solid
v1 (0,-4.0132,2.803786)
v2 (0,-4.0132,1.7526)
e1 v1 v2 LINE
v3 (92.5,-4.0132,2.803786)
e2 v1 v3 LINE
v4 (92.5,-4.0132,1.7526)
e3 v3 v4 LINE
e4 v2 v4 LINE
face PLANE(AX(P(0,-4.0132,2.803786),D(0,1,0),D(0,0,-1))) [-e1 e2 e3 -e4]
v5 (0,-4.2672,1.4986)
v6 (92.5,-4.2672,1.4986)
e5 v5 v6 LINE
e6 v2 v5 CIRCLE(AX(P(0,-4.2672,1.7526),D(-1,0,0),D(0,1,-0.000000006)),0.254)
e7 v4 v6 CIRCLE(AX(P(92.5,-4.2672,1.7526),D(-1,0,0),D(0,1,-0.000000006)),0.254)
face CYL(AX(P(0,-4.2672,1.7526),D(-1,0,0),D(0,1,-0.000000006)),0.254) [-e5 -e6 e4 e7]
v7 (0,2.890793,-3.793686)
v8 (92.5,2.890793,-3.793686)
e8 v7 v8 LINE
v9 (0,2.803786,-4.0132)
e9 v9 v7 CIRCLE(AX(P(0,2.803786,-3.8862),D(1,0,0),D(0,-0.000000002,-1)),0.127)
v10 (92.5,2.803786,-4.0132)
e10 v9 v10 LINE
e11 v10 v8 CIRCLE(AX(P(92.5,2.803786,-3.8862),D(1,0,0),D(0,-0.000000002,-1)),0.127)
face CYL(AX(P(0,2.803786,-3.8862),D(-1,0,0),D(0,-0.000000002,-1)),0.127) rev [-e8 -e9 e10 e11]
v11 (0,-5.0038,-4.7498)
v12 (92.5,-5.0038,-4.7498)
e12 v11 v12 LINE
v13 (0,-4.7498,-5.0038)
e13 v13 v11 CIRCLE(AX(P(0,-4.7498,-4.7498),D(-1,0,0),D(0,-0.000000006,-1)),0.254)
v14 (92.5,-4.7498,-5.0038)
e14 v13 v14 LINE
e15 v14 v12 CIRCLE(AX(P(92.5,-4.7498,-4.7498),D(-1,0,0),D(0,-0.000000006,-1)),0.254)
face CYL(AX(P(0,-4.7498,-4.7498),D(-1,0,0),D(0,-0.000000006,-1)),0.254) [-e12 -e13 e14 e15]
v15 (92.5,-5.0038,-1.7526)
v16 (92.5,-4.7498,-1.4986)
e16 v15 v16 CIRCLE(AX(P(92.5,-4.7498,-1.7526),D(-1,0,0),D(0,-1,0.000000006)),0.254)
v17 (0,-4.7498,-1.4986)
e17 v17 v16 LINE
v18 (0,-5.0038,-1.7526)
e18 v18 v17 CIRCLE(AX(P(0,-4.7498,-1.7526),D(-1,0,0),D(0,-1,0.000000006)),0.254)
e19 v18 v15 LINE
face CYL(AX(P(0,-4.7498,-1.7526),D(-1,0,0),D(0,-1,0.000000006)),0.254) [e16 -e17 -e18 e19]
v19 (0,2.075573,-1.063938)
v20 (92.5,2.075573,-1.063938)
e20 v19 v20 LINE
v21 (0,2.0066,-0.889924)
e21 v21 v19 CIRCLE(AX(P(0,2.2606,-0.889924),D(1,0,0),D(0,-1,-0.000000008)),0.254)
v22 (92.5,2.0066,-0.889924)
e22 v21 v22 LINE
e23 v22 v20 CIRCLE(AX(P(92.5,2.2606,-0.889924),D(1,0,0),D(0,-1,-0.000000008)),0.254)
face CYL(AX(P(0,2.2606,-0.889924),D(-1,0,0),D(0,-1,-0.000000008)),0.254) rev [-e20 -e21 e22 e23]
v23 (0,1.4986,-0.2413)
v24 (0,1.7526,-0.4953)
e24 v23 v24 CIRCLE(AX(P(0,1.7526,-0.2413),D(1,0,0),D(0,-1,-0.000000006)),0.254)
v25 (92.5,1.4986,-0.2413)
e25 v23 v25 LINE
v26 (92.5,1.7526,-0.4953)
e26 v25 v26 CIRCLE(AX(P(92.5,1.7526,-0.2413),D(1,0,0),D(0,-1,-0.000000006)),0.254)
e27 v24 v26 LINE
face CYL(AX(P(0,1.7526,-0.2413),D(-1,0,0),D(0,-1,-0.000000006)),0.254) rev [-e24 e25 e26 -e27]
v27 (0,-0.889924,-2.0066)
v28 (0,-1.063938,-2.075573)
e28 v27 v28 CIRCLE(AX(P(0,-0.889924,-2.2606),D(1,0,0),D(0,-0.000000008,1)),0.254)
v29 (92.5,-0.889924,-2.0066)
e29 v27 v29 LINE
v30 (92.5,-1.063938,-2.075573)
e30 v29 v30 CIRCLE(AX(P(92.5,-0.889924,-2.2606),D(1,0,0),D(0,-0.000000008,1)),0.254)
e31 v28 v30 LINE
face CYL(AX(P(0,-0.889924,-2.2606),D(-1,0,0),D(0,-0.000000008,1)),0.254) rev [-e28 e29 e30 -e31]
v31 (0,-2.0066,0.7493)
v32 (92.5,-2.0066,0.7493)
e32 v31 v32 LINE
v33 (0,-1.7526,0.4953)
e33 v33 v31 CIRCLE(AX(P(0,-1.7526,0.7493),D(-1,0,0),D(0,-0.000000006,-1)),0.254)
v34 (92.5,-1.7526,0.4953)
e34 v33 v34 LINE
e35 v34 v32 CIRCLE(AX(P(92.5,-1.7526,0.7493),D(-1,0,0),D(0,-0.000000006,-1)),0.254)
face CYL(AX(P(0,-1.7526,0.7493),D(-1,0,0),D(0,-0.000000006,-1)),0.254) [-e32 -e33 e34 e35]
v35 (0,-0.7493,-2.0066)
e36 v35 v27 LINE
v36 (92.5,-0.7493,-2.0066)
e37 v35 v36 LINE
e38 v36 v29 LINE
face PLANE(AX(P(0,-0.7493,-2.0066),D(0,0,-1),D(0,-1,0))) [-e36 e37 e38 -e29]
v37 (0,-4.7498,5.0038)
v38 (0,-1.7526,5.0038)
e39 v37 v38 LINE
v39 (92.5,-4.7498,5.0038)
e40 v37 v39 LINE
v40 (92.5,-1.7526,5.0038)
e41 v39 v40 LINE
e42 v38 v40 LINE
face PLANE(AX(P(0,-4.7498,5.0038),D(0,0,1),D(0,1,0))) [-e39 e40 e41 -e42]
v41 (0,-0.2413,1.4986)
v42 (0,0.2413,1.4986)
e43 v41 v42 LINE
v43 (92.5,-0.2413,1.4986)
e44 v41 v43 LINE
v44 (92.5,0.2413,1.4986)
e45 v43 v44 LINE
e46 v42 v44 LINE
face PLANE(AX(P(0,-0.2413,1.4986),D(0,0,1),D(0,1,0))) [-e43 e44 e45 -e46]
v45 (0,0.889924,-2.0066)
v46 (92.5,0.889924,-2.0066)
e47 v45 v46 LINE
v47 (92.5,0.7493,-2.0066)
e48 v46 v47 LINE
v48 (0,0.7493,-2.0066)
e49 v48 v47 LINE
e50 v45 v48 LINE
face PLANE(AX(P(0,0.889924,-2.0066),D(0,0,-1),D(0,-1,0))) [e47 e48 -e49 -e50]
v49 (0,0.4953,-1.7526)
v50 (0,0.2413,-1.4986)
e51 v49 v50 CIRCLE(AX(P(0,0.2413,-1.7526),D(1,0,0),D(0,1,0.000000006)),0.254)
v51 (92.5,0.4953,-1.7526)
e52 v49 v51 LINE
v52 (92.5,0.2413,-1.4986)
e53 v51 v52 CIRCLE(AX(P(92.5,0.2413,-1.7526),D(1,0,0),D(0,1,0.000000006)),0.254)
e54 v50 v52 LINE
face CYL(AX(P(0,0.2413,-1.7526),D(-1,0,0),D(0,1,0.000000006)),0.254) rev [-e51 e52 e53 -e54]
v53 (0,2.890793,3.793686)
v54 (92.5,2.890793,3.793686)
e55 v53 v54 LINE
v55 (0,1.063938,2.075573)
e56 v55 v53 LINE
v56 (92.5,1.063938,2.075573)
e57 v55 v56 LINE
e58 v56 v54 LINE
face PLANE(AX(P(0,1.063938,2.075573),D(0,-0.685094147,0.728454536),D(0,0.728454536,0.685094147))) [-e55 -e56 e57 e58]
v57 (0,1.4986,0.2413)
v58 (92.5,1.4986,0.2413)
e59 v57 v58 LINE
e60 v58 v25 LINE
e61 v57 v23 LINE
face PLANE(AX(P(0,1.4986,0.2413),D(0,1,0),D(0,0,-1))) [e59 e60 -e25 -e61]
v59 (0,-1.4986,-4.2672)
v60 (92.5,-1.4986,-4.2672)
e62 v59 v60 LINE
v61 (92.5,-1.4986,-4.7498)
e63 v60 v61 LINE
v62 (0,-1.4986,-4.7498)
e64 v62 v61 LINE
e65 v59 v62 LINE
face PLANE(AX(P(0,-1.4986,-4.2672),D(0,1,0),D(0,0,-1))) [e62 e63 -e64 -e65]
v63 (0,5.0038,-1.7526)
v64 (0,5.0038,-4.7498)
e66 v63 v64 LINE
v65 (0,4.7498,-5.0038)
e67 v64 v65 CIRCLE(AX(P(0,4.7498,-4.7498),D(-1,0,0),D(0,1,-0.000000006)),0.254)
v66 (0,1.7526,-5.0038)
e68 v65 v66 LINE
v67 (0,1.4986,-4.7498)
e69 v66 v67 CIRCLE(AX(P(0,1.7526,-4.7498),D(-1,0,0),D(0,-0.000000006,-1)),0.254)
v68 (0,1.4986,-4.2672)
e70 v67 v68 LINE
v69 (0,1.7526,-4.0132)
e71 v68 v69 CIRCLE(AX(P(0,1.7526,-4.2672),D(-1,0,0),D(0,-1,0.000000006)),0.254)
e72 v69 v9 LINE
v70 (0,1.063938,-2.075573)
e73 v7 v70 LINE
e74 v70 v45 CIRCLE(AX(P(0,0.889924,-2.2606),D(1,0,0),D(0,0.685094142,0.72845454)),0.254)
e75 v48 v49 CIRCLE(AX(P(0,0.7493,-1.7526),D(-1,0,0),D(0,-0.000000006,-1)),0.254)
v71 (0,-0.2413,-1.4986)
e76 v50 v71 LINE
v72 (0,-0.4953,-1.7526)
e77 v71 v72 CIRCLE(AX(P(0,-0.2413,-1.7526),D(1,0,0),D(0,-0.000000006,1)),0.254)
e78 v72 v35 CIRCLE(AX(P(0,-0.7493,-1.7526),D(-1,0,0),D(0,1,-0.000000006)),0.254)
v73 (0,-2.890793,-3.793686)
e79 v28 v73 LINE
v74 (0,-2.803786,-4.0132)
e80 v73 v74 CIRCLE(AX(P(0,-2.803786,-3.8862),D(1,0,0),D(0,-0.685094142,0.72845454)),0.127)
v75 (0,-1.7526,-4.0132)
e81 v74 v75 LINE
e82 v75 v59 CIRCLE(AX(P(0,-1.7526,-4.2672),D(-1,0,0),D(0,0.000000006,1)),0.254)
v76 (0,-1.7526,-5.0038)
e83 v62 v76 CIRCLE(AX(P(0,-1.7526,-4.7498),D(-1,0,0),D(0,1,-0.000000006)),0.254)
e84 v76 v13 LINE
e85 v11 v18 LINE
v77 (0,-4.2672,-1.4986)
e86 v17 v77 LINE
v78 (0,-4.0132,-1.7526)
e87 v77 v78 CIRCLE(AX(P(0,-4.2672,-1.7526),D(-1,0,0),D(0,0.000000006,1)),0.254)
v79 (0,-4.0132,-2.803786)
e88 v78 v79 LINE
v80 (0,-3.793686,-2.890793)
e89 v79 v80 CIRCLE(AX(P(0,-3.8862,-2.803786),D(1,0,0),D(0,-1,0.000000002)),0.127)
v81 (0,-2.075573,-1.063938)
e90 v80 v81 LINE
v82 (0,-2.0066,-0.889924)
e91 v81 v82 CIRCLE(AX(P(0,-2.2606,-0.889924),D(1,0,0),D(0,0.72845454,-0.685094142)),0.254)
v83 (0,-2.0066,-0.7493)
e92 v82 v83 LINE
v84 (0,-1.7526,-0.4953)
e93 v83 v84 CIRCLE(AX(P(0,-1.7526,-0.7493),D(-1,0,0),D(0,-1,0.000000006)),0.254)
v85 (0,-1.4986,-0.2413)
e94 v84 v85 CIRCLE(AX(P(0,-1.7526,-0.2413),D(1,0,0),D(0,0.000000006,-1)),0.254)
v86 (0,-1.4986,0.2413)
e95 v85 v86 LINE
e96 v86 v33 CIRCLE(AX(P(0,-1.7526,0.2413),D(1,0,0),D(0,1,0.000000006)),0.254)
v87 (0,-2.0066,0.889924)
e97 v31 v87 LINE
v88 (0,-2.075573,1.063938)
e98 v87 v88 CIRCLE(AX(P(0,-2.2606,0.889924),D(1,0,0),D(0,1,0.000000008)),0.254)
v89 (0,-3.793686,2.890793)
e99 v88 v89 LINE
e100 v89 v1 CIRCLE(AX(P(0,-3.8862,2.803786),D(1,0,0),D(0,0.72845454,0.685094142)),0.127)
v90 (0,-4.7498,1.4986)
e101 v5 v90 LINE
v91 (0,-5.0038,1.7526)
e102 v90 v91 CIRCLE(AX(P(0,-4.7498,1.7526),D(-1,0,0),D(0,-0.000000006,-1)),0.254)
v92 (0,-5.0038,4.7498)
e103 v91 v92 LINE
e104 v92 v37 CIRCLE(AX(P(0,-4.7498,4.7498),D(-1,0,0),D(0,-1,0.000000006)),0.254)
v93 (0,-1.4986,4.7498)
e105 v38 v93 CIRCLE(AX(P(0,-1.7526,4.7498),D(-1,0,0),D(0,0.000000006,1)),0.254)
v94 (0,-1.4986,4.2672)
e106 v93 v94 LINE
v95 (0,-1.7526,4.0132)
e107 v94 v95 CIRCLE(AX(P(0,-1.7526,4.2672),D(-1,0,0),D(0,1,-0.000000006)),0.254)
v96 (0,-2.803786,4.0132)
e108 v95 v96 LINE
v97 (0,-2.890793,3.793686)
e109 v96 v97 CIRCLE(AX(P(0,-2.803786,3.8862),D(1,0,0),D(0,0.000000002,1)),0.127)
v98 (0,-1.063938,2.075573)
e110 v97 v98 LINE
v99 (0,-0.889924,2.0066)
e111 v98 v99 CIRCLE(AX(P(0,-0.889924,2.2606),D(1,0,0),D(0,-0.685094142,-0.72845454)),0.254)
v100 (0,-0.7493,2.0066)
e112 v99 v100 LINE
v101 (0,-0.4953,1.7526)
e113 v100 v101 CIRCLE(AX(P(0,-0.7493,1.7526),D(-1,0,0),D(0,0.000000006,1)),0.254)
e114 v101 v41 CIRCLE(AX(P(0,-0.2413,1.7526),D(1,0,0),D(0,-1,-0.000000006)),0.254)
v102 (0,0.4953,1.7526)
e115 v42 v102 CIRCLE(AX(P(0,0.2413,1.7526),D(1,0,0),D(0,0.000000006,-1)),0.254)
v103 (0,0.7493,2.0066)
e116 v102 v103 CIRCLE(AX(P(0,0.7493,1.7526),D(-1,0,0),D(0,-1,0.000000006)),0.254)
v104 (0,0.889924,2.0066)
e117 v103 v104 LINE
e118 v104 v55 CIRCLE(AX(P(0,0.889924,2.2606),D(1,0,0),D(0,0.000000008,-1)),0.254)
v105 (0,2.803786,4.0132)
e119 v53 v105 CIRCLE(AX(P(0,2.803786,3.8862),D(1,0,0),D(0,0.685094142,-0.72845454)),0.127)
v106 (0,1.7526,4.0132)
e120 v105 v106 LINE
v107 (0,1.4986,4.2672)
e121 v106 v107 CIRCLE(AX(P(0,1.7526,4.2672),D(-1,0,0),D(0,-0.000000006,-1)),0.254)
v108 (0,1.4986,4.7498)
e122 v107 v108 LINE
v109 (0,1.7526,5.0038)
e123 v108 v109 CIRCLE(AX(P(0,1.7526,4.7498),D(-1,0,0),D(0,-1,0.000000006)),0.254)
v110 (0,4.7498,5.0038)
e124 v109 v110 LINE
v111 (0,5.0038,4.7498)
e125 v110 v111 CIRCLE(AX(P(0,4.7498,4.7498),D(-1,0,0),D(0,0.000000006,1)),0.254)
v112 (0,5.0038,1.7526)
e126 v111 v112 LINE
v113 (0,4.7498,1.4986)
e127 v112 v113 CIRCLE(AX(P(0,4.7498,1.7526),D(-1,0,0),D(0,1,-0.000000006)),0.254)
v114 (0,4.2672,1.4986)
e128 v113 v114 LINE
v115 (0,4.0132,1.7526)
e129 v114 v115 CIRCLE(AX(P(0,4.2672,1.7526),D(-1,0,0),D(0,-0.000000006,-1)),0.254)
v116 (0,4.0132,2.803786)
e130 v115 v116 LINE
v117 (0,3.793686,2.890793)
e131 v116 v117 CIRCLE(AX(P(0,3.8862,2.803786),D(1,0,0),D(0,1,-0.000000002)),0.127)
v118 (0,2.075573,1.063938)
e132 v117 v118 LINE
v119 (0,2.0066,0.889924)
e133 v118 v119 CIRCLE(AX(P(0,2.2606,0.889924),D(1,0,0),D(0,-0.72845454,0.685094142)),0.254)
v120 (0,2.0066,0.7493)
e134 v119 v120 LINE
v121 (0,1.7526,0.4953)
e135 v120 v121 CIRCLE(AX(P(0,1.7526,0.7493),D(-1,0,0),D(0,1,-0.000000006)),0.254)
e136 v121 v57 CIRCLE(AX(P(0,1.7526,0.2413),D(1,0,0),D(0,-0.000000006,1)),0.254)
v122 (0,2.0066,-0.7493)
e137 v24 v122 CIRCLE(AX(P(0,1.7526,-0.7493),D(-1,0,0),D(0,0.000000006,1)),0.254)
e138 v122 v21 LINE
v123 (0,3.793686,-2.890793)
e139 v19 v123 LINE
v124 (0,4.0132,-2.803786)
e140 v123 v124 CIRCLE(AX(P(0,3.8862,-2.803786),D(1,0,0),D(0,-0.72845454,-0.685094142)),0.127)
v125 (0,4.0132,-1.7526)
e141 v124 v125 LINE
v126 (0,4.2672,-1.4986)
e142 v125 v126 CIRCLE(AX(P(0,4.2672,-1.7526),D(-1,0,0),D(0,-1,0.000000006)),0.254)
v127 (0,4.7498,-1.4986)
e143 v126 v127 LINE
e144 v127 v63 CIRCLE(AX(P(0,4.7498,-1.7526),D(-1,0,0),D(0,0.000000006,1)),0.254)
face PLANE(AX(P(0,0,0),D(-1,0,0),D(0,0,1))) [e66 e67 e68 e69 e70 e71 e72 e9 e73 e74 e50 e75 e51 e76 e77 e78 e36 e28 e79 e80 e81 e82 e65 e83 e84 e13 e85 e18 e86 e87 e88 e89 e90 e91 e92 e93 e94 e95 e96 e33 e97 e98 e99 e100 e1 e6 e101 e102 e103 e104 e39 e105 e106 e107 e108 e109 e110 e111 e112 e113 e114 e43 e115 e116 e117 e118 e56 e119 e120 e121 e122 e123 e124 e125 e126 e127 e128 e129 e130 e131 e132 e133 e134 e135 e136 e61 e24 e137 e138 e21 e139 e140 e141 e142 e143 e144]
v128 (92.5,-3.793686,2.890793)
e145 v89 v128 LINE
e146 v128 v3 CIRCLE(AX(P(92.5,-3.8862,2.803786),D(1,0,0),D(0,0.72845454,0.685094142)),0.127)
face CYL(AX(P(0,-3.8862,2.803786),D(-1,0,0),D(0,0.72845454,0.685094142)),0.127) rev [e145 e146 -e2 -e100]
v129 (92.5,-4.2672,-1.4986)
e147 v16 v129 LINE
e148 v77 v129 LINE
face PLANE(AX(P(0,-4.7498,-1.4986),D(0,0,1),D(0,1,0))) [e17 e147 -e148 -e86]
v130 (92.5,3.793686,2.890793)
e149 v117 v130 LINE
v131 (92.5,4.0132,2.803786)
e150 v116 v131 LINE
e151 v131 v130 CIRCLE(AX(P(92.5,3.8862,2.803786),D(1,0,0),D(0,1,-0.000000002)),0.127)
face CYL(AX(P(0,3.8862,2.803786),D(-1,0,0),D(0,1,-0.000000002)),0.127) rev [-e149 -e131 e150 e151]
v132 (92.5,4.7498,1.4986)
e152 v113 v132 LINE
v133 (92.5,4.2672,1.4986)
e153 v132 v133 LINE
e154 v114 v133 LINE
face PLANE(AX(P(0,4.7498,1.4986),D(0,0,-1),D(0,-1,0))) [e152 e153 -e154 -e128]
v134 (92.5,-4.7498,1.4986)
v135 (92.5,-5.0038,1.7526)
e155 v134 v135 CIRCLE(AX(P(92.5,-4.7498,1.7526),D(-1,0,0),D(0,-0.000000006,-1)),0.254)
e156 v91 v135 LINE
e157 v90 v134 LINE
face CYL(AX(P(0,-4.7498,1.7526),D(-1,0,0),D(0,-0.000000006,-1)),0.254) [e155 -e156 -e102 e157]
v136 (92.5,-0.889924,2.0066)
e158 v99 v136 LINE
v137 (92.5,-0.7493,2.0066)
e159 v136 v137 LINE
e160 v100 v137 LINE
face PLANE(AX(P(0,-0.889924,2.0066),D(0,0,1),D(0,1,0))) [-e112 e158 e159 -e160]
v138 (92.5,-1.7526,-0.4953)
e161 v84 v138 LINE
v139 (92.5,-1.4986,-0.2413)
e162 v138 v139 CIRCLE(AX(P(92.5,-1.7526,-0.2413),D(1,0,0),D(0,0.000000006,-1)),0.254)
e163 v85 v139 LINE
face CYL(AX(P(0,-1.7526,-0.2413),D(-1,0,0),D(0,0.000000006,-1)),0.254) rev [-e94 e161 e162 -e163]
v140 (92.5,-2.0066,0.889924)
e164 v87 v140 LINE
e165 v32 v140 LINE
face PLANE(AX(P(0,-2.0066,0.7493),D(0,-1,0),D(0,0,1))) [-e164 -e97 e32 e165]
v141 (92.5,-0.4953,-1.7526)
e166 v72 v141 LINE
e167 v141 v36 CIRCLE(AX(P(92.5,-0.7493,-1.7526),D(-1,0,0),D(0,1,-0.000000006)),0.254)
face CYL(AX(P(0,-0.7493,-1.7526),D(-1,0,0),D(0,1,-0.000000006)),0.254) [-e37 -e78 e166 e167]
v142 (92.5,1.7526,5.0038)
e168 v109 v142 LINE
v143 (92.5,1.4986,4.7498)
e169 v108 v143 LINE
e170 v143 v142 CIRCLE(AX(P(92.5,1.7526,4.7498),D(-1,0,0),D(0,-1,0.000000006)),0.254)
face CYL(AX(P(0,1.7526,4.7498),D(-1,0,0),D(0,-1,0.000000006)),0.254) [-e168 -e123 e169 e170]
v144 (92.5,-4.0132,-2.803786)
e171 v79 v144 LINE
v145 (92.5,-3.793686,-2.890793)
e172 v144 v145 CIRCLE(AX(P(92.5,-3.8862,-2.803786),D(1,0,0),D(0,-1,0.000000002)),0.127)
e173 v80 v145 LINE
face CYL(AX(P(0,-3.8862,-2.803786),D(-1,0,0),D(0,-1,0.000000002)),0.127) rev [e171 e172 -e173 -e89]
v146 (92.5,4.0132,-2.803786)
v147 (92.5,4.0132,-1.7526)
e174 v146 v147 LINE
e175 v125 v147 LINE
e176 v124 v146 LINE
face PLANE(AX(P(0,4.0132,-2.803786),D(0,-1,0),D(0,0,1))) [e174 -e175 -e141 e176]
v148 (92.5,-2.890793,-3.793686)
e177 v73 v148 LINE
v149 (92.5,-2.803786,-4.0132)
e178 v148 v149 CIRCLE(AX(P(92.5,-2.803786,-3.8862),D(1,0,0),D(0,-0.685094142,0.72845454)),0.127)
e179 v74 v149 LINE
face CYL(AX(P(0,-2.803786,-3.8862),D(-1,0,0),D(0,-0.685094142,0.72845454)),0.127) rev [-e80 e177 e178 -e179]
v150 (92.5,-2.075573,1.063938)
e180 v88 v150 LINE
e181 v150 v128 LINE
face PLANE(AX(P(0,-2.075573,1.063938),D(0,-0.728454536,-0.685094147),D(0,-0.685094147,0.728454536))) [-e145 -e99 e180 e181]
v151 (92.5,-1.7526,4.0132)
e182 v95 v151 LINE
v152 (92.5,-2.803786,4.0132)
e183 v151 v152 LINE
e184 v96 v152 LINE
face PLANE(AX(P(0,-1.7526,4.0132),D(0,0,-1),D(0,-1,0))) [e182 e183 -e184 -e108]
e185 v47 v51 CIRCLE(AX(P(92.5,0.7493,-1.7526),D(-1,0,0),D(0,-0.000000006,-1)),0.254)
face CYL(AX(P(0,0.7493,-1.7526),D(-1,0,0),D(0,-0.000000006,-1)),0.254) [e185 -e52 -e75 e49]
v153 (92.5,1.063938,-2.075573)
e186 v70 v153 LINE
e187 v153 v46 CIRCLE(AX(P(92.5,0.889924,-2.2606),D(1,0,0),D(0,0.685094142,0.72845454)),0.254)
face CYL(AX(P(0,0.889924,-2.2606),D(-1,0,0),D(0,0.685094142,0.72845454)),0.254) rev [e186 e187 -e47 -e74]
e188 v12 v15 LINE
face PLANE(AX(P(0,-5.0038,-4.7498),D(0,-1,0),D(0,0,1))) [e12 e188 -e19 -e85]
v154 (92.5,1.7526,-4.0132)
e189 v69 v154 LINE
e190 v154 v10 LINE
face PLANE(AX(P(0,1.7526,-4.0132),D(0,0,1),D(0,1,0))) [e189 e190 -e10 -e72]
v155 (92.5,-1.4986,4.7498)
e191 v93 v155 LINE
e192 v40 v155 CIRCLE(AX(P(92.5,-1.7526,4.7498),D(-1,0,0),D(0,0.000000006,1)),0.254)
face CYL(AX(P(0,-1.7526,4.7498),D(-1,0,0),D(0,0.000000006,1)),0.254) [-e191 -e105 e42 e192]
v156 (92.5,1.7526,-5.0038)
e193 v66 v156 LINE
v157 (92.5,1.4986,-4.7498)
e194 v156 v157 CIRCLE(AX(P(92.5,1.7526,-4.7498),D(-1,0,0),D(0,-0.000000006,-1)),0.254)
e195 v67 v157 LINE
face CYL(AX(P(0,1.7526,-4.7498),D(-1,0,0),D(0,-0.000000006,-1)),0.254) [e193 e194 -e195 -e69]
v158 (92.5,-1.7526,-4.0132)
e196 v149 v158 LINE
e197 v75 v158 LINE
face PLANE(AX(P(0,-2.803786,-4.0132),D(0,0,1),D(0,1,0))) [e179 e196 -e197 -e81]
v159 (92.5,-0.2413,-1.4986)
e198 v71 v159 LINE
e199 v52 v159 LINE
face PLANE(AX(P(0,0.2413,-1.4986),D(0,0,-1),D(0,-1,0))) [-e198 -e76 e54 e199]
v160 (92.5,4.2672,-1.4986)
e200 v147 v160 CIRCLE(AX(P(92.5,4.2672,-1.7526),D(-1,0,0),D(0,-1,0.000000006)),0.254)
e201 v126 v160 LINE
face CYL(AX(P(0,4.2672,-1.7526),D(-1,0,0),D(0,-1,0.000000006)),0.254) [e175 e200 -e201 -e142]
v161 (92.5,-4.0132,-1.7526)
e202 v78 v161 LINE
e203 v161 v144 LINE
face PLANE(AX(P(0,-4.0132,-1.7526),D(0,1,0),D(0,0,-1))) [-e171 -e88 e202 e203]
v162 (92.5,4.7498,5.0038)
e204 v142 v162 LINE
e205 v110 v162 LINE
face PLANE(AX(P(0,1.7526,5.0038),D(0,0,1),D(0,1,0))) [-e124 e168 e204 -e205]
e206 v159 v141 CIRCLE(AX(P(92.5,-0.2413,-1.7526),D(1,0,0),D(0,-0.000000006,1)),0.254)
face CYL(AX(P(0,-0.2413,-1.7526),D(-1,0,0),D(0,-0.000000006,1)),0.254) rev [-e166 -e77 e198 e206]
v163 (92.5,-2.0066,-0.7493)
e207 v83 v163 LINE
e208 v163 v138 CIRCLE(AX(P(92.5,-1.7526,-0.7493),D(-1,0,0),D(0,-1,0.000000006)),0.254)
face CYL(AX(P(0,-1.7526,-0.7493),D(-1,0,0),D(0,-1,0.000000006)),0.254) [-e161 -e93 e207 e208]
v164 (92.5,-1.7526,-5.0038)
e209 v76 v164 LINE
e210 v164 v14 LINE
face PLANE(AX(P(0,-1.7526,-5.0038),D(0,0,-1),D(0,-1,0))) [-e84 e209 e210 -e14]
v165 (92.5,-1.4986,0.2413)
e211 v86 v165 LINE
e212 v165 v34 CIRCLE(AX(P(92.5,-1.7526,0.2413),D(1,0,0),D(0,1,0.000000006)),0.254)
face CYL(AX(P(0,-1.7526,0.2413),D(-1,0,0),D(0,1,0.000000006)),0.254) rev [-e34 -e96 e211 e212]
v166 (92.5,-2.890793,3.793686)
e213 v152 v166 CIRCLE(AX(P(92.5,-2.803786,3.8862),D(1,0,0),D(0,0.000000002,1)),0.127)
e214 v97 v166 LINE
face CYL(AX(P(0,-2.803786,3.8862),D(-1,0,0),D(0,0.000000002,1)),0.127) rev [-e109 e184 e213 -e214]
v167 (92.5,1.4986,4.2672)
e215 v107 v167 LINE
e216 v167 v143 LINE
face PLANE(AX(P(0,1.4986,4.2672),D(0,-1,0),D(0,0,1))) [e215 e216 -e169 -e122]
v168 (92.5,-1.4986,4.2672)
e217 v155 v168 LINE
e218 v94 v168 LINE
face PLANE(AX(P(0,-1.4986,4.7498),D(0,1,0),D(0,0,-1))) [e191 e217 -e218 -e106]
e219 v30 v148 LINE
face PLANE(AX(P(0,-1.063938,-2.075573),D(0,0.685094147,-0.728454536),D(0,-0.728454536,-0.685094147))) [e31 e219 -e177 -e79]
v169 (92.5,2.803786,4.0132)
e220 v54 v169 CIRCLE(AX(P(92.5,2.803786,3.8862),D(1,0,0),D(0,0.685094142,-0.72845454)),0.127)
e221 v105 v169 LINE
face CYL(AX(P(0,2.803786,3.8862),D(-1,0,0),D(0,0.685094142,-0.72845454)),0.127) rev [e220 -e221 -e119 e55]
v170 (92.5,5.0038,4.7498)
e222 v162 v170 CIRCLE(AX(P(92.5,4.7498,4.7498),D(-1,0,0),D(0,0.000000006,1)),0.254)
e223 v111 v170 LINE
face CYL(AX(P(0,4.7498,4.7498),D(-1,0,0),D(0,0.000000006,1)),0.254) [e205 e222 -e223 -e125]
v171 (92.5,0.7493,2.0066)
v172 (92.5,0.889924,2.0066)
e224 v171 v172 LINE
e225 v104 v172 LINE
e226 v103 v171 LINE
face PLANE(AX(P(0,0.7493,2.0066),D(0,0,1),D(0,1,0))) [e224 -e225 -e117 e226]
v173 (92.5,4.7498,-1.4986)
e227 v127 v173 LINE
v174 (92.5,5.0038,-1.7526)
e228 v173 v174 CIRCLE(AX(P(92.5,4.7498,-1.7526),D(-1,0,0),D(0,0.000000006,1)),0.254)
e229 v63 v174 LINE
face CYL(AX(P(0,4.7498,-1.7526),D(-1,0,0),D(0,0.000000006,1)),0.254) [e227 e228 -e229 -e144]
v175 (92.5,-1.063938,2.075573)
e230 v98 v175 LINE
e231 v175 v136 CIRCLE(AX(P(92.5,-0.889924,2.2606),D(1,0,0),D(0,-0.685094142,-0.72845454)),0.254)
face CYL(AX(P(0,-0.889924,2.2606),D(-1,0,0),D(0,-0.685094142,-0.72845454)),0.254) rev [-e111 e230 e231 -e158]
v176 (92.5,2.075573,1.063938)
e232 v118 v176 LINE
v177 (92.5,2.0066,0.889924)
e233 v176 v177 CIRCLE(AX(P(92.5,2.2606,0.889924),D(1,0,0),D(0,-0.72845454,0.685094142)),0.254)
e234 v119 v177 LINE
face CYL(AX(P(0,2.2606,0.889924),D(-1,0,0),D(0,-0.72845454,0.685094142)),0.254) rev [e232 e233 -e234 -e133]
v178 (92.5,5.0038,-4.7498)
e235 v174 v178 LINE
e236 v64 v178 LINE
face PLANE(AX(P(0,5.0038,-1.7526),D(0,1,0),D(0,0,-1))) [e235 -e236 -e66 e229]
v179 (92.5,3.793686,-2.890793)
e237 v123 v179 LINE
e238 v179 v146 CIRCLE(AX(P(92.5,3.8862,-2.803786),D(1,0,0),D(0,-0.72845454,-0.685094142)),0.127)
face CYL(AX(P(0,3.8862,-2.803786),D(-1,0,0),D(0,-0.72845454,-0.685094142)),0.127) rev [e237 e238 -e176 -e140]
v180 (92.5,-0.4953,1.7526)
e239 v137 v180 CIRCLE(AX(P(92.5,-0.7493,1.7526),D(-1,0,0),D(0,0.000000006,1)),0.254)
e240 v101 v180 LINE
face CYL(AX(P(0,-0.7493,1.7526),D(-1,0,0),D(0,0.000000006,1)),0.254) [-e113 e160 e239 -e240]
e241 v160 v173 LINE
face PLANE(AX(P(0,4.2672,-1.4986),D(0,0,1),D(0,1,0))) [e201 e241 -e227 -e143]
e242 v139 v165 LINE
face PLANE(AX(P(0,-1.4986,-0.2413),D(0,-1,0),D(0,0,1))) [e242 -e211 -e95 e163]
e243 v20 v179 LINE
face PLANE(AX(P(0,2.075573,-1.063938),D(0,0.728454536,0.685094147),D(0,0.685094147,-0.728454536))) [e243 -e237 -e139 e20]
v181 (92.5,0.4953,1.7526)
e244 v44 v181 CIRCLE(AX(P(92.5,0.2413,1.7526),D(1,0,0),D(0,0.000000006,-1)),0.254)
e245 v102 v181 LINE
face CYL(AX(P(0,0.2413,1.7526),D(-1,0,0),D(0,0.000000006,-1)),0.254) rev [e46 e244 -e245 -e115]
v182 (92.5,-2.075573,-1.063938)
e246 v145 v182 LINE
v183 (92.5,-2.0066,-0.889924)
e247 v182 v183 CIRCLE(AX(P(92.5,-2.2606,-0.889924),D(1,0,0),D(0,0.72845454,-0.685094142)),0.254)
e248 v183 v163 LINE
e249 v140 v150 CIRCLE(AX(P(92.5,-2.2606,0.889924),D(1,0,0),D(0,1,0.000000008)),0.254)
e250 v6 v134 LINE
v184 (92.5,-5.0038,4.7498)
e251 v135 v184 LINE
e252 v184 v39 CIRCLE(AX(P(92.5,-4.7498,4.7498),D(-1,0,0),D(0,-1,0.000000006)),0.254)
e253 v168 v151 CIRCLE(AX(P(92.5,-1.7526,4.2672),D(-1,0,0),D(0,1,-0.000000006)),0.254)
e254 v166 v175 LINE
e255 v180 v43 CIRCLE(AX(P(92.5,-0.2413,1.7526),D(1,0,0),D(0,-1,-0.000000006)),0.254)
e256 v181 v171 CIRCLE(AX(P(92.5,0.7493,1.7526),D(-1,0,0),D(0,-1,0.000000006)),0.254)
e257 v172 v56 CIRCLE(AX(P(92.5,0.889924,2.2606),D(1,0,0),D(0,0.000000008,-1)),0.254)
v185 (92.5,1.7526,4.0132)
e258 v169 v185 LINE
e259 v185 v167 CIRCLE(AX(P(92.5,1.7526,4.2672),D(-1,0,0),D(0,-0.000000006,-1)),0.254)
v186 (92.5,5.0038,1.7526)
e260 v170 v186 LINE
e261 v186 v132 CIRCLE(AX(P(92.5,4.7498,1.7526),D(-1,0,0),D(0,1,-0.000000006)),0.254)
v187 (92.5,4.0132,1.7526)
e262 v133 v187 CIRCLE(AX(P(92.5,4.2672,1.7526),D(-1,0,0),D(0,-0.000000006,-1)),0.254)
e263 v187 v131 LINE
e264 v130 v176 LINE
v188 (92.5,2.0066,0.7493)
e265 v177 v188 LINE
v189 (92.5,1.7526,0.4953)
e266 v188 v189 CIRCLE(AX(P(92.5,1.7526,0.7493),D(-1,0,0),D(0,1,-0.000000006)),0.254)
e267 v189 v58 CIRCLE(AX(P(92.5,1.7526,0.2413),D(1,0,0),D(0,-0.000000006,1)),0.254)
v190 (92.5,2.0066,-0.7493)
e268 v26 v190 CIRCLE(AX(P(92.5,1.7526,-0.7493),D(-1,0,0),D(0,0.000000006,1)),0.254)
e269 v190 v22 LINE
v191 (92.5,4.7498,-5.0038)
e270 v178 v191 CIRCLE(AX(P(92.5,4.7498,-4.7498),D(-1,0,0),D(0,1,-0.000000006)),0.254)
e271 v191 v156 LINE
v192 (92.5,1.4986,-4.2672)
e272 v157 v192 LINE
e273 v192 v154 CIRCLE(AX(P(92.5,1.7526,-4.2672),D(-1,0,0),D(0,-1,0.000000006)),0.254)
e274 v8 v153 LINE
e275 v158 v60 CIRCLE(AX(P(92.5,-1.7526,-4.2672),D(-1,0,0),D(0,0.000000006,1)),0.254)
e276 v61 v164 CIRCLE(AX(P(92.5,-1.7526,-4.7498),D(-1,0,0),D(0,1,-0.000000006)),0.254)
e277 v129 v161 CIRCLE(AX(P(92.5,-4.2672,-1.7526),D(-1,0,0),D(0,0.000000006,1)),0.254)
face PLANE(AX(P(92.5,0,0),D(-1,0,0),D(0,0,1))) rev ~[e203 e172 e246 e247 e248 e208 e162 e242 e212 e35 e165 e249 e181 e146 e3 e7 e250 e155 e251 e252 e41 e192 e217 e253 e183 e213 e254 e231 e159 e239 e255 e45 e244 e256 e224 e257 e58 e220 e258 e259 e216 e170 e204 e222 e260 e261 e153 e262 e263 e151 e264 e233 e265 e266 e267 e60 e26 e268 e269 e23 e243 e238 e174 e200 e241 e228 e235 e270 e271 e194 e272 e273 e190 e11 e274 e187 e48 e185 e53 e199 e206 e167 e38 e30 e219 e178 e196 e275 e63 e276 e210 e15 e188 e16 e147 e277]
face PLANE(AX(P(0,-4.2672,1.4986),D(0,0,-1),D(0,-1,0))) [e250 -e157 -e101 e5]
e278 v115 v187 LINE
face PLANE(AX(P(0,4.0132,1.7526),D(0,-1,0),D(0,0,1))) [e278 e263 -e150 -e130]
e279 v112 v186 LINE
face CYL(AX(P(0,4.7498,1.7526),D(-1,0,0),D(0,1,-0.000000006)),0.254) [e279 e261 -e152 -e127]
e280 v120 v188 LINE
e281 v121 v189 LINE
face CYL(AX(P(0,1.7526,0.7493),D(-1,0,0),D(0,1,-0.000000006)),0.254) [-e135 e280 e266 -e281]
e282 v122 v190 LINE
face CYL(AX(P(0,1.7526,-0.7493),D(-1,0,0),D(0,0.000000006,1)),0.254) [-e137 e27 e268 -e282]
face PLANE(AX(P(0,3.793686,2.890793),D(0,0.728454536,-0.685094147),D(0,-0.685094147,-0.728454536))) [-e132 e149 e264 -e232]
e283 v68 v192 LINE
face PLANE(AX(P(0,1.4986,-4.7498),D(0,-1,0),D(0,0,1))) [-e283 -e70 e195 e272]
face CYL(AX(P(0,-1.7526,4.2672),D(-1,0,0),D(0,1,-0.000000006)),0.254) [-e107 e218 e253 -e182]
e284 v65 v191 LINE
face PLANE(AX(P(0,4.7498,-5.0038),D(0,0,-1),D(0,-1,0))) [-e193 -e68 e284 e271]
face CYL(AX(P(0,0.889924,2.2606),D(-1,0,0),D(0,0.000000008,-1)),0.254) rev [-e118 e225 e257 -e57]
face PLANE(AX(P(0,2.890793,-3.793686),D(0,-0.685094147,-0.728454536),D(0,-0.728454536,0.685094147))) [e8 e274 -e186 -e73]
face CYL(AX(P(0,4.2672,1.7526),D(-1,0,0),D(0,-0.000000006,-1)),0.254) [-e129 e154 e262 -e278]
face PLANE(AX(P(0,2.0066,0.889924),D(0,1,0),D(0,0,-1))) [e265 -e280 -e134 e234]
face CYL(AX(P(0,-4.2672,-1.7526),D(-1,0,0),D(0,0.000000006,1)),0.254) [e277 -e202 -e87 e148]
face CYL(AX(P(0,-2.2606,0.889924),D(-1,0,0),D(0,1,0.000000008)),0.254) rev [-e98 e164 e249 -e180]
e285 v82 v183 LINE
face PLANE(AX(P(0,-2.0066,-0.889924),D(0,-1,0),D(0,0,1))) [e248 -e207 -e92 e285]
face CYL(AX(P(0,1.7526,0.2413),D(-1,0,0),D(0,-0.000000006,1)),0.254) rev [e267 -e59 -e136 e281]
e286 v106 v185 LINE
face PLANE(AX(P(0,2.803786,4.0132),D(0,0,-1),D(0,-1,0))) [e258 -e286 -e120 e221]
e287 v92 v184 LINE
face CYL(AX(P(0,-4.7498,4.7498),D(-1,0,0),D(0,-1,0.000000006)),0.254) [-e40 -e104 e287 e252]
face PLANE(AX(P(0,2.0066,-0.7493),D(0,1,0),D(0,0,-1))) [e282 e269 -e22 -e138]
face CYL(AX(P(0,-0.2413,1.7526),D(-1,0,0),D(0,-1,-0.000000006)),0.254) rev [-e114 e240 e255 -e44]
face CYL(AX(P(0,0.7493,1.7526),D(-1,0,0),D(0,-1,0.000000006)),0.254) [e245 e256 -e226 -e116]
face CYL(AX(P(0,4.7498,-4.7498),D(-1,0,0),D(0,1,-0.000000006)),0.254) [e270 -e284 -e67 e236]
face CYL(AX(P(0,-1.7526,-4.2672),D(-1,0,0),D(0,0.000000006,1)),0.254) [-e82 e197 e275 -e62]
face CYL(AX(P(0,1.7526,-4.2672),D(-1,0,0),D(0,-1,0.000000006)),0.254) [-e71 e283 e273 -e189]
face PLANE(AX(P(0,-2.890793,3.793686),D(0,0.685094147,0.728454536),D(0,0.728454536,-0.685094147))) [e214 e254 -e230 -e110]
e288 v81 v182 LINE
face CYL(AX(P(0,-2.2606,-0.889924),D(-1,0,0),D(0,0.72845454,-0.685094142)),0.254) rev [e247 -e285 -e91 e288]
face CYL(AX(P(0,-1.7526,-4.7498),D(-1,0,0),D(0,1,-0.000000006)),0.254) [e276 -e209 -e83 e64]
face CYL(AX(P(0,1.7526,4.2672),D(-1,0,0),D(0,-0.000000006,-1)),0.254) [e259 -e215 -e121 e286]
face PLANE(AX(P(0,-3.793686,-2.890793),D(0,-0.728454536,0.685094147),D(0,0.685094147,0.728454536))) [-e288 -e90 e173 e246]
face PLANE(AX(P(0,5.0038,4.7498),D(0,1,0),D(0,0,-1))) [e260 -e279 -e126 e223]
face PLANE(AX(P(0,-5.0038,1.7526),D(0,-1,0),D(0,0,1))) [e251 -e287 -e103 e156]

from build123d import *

# Parameters (mm, degrees)
BOSS_EXTRU_1_DEPTH = 92.5


with BuildPart() as part:
    # Sketch1 → Boss.-Extru.1 (new body)
    with BuildSketch(Plane(origin=(0, 0, 0), x_dir=(0, 0, -1), z_dir=(1, 0, 0))):
        with BuildLine():
            Line((-0.2413, 1.4986), (0.2413, 1.4986))
            ThreePointArc((0.2413, 1.4986), (0.420905122, 1.572994878), (0.4953, 1.7526))
            ThreePointArc((0.4953, 1.7526), (0.569694878, 1.932205122), (0.7493, 2.0066))
            Line((0.7493, 2.0066), (0.889923986, 2.0066))
            ThreePointArc((0.889923986, 2.0066), (0.983516259, 2.024471886), (1.063937899, 2.075572548))
            Line((1.063937899, 2.075572548), (2.890793, 3.793686274))
            ThreePointArc((2.890793, 3.793686274), (2.921850101, 3.932996137), (2.803786044, 4.0132))
            Line((2.803786044, 4.0132), (1.7526, 4.0132))
            ThreePointArc((1.7526, 4.0132), (1.572994878, 4.087594878), (1.4986, 4.2672))
            Line((1.4986, 4.2672), (1.4986, 4.7498))
            ThreePointArc((1.4986, 4.7498), (1.572994878, 4.929405122), (1.7526, 5.0038))
            Line((1.7526, 5.0038), (4.7498, 5.0038))
            ThreePointArc((4.7498, 5.0038), (4.929405122, 4.929405122), (5.0038, 4.7498))
            Line((5.0038, 4.7498), (5.0038, 1.7526))
            ThreePointArc((5.0038, 1.7526), (4.929405122, 1.572994878), (4.7498, 1.4986))
            Line((4.7498, 1.4986), (4.2672, 1.4986))
            ThreePointArc((4.2672, 1.4986), (4.087594878, 1.572994878), (4.0132, 1.7526))
            Line((4.0132, 1.7526), (4.0132, 2.803786044))
            ThreePointArc((4.0132, 2.803786044), (3.932996137, 2.921850101), (3.793686274, 2.890793))
            Line((3.793686274, 2.890793), (2.075572548, 1.063937899))
            ThreePointArc((2.075572548, 1.063937899), (2.024471886, 0.983516259), (2.0066, 0.889923986))
            Line((2.0066, 0.889923986), (2.0066, 0.7493))
            ThreePointArc((2.0066, 0.7493), (1.932205122, 0.569694878), (1.7526, 0.4953))
            ThreePointArc((1.7526, 0.4953), (1.572994878, 0.420905122), (1.4986, 0.2413))
            Line((1.4986, 0.2413), (1.4986, -0.2413))
            ThreePointArc((1.4986, -0.2413), (1.572994878, -0.420905122), (1.7526, -0.4953))
            ThreePointArc((1.7526, -0.4953), (1.932205122, -0.569694878), (2.0066, -0.7493))
            Line((2.0066, -0.7493), (2.0066, -0.889923986))
            ThreePointArc((2.0066, -0.889923986), (2.024471886, -0.983516259), (2.075572548, -1.063937899))
            Line((2.075572548, -1.063937899), (3.793686274, -2.890793))
            ThreePointArc((3.793686274, -2.890793), (3.932996137, -2.921850101), (4.0132, -2.803786044))
            Line((4.0132, -2.803786044), (4.0132, -1.7526))
            ThreePointArc((4.0132, -1.7526), (4.087594878, -1.572994878), (4.2672, -1.4986))
            Line((4.2672, -1.4986), (4.7498, -1.4986))
            ThreePointArc((4.7498, -1.4986), (4.929405122, -1.572994878), (5.0038, -1.7526))
            Line((5.0038, -1.7526), (5.0038, -4.7498))
            ThreePointArc((5.0038, -4.7498), (4.929405122, -4.929405122), (4.7498, -5.0038))
            Line((4.7498, -5.0038), (1.7526, -5.0038))
            ThreePointArc((1.7526, -5.0038), (1.572994878, -4.929405122), (1.4986, -4.7498))
            Line((1.4986, -4.7498), (1.4986, -4.2672))
            ThreePointArc((1.4986, -4.2672), (1.572994878, -4.087594878), (1.7526, -4.0132))
            Line((1.7526, -4.0132), (2.803786044, -4.0132))
            ThreePointArc((2.803786044, -4.0132), (2.921850101, -3.932996137), (2.890793, -3.793686274))
            Line((2.890793, -3.793686274), (1.063937899, -2.075572548))
            ThreePointArc((1.063937899, -2.075572548), (0.983516259, -2.024471886), (0.889923986, -2.0066))
            Line((0.889923986, -2.0066), (0.7493, -2.0066))
            ThreePointArc((0.7493, -2.0066), (0.569694878, -1.932205122), (0.4953, -1.7526))
            ThreePointArc((0.4953, -1.7526), (0.420905122, -1.572994878), (0.2413, -1.4986))
            Line((0.2413, -1.4986), (-0.2413, -1.4986))
            ThreePointArc((-0.2413, -1.4986), (-0.420905122, -1.572994878), (-0.4953, -1.7526))
            ThreePointArc((-0.4953, -1.7526), (-0.569694878, -1.932205122), (-0.7493, -2.0066))
            Line((-0.7493, -2.0066), (-0.889923986, -2.0066))
            ThreePointArc((-0.889923986, -2.0066), (-0.983516259, -2.024471886), (-1.063937899, -2.075572548))
            Line((-1.063937899, -2.075572548), (-2.890793, -3.793686274))
            ThreePointArc((-2.890793, -3.793686274), (-2.921850101, -3.932996137), (-2.803786044, -4.0132))
            Line((-2.803786044, -4.0132), (-1.7526, -4.0132))
            ThreePointArc((-1.7526, -4.0132), (-1.572994878, -4.087594878), (-1.4986, -4.2672))
            Line((-1.4986, -4.2672), (-1.4986, -4.7498))
            ThreePointArc((-1.4986, -4.7498), (-1.572994878, -4.929405122), (-1.7526, -5.0038))
            Line((-1.7526, -5.0038), (-4.7498, -5.0038))
            ThreePointArc((-4.7498, -5.0038), (-4.929405122, -4.929405122), (-5.0038, -4.7498))
            Line((-5.0038, -4.7498), (-5.0038, -1.7526))
            ThreePointArc((-5.0038, -1.7526), (-4.929405122, -1.572994878), (-4.7498, -1.4986))
            Line((-4.7498, -1.4986), (-4.2672, -1.4986))
            ThreePointArc((-4.2672, -1.4986), (-4.087594878, -1.572994878), (-4.0132, -1.7526))
            Line((-4.0132, -1.7526), (-4.0132, -2.803786044))
            ThreePointArc((-4.0132, -2.803786044), (-3.932996137, -2.921850101), (-3.793686274, -2.890793))
            Line((-3.793686274, -2.890793), (-2.075572548, -1.063937899))
            ThreePointArc((-2.075572548, -1.063937899), (-2.024471886, -0.983516259), (-2.0066, -0.889923986))
            Line((-2.0066, -0.889923986), (-2.0066, -0.7493))
            ThreePointArc((-2.0066, -0.7493), (-1.932205122, -0.569694878), (-1.7526, -0.4953))
            ThreePointArc((-1.7526, -0.4953), (-1.572994878, -0.420905122), (-1.4986, -0.2413))
            Line((-1.4986, -0.2413), (-1.4986, 0.2413))
            ThreePointArc((-1.4986, 0.2413), (-1.572994878, 0.420905122), (-1.7526, 0.4953))
            ThreePointArc((-1.7526, 0.4953), (-1.932205122, 0.569694878), (-2.0066, 0.7493))
            Line((-2.0066, 0.7493), (-2.0066, 0.889923986))
            ThreePointArc((-2.0066, 0.889923986), (-2.024471886, 0.983516259), (-2.075572548, 1.063937899))
            Line((-2.075572548, 1.063937899), (-3.793686274, 2.890793))
            ThreePointArc((-3.793686274, 2.890793), (-3.932996137, 2.921850101), (-4.0132, 2.803786044))
            Line((-4.0132, 2.803786044), (-4.0132, 1.7526))
            ThreePointArc((-4.0132, 1.7526), (-4.087594878, 1.572994878), (-4.2672, 1.4986))
            Line((-4.2672, 1.4986), (-4.7498, 1.4986))
            ThreePointArc((-4.7498, 1.4986), (-4.929405122, 1.572994878), (-5.0038, 1.7526))
            Line((-5.0038, 1.7526), (-5.0038, 4.7498))
            ThreePointArc((-5.0038, 4.7498), (-4.929405122, 4.929405122), (-4.7498, 5.0038))
            Line((-4.7498, 5.0038), (-1.7526, 5.0038))
            ThreePointArc((-1.7526, 5.0038), (-1.572994878, 4.929405122), (-1.4986, 4.7498))
            Line((-1.4986, 4.7498), (-1.4986, 4.2672))
            ThreePointArc((-1.4986, 4.2672), (-1.572994878, 4.087594878), (-1.7526, 4.0132))
            Line((-1.7526, 4.0132), (-2.803786044, 4.0132))
            ThreePointArc((-2.803786044, 4.0132), (-2.921850101, 3.932996137), (-2.890793, 3.793686274))
            Line((-2.890793, 3.793686274), (-1.063937899, 2.075572548))
            ThreePointArc((-1.063937899, 2.075572548), (-0.983516259, 2.024471886), (-0.889923986, 2.0066))
            Line((-0.889923986, 2.0066), (-0.7493, 2.0066))
            ThreePointArc((-0.7493, 2.0066), (-0.569694878, 1.932205122), (-0.4953, 1.7526))
            ThreePointArc((-0.4953, 1.7526), (-0.420905122, 1.572994878), (-0.2413, 1.4986))
        make_face()
    extrude(amount=BOSS_EXTRU_1_DEPTH)


solid = part.part
